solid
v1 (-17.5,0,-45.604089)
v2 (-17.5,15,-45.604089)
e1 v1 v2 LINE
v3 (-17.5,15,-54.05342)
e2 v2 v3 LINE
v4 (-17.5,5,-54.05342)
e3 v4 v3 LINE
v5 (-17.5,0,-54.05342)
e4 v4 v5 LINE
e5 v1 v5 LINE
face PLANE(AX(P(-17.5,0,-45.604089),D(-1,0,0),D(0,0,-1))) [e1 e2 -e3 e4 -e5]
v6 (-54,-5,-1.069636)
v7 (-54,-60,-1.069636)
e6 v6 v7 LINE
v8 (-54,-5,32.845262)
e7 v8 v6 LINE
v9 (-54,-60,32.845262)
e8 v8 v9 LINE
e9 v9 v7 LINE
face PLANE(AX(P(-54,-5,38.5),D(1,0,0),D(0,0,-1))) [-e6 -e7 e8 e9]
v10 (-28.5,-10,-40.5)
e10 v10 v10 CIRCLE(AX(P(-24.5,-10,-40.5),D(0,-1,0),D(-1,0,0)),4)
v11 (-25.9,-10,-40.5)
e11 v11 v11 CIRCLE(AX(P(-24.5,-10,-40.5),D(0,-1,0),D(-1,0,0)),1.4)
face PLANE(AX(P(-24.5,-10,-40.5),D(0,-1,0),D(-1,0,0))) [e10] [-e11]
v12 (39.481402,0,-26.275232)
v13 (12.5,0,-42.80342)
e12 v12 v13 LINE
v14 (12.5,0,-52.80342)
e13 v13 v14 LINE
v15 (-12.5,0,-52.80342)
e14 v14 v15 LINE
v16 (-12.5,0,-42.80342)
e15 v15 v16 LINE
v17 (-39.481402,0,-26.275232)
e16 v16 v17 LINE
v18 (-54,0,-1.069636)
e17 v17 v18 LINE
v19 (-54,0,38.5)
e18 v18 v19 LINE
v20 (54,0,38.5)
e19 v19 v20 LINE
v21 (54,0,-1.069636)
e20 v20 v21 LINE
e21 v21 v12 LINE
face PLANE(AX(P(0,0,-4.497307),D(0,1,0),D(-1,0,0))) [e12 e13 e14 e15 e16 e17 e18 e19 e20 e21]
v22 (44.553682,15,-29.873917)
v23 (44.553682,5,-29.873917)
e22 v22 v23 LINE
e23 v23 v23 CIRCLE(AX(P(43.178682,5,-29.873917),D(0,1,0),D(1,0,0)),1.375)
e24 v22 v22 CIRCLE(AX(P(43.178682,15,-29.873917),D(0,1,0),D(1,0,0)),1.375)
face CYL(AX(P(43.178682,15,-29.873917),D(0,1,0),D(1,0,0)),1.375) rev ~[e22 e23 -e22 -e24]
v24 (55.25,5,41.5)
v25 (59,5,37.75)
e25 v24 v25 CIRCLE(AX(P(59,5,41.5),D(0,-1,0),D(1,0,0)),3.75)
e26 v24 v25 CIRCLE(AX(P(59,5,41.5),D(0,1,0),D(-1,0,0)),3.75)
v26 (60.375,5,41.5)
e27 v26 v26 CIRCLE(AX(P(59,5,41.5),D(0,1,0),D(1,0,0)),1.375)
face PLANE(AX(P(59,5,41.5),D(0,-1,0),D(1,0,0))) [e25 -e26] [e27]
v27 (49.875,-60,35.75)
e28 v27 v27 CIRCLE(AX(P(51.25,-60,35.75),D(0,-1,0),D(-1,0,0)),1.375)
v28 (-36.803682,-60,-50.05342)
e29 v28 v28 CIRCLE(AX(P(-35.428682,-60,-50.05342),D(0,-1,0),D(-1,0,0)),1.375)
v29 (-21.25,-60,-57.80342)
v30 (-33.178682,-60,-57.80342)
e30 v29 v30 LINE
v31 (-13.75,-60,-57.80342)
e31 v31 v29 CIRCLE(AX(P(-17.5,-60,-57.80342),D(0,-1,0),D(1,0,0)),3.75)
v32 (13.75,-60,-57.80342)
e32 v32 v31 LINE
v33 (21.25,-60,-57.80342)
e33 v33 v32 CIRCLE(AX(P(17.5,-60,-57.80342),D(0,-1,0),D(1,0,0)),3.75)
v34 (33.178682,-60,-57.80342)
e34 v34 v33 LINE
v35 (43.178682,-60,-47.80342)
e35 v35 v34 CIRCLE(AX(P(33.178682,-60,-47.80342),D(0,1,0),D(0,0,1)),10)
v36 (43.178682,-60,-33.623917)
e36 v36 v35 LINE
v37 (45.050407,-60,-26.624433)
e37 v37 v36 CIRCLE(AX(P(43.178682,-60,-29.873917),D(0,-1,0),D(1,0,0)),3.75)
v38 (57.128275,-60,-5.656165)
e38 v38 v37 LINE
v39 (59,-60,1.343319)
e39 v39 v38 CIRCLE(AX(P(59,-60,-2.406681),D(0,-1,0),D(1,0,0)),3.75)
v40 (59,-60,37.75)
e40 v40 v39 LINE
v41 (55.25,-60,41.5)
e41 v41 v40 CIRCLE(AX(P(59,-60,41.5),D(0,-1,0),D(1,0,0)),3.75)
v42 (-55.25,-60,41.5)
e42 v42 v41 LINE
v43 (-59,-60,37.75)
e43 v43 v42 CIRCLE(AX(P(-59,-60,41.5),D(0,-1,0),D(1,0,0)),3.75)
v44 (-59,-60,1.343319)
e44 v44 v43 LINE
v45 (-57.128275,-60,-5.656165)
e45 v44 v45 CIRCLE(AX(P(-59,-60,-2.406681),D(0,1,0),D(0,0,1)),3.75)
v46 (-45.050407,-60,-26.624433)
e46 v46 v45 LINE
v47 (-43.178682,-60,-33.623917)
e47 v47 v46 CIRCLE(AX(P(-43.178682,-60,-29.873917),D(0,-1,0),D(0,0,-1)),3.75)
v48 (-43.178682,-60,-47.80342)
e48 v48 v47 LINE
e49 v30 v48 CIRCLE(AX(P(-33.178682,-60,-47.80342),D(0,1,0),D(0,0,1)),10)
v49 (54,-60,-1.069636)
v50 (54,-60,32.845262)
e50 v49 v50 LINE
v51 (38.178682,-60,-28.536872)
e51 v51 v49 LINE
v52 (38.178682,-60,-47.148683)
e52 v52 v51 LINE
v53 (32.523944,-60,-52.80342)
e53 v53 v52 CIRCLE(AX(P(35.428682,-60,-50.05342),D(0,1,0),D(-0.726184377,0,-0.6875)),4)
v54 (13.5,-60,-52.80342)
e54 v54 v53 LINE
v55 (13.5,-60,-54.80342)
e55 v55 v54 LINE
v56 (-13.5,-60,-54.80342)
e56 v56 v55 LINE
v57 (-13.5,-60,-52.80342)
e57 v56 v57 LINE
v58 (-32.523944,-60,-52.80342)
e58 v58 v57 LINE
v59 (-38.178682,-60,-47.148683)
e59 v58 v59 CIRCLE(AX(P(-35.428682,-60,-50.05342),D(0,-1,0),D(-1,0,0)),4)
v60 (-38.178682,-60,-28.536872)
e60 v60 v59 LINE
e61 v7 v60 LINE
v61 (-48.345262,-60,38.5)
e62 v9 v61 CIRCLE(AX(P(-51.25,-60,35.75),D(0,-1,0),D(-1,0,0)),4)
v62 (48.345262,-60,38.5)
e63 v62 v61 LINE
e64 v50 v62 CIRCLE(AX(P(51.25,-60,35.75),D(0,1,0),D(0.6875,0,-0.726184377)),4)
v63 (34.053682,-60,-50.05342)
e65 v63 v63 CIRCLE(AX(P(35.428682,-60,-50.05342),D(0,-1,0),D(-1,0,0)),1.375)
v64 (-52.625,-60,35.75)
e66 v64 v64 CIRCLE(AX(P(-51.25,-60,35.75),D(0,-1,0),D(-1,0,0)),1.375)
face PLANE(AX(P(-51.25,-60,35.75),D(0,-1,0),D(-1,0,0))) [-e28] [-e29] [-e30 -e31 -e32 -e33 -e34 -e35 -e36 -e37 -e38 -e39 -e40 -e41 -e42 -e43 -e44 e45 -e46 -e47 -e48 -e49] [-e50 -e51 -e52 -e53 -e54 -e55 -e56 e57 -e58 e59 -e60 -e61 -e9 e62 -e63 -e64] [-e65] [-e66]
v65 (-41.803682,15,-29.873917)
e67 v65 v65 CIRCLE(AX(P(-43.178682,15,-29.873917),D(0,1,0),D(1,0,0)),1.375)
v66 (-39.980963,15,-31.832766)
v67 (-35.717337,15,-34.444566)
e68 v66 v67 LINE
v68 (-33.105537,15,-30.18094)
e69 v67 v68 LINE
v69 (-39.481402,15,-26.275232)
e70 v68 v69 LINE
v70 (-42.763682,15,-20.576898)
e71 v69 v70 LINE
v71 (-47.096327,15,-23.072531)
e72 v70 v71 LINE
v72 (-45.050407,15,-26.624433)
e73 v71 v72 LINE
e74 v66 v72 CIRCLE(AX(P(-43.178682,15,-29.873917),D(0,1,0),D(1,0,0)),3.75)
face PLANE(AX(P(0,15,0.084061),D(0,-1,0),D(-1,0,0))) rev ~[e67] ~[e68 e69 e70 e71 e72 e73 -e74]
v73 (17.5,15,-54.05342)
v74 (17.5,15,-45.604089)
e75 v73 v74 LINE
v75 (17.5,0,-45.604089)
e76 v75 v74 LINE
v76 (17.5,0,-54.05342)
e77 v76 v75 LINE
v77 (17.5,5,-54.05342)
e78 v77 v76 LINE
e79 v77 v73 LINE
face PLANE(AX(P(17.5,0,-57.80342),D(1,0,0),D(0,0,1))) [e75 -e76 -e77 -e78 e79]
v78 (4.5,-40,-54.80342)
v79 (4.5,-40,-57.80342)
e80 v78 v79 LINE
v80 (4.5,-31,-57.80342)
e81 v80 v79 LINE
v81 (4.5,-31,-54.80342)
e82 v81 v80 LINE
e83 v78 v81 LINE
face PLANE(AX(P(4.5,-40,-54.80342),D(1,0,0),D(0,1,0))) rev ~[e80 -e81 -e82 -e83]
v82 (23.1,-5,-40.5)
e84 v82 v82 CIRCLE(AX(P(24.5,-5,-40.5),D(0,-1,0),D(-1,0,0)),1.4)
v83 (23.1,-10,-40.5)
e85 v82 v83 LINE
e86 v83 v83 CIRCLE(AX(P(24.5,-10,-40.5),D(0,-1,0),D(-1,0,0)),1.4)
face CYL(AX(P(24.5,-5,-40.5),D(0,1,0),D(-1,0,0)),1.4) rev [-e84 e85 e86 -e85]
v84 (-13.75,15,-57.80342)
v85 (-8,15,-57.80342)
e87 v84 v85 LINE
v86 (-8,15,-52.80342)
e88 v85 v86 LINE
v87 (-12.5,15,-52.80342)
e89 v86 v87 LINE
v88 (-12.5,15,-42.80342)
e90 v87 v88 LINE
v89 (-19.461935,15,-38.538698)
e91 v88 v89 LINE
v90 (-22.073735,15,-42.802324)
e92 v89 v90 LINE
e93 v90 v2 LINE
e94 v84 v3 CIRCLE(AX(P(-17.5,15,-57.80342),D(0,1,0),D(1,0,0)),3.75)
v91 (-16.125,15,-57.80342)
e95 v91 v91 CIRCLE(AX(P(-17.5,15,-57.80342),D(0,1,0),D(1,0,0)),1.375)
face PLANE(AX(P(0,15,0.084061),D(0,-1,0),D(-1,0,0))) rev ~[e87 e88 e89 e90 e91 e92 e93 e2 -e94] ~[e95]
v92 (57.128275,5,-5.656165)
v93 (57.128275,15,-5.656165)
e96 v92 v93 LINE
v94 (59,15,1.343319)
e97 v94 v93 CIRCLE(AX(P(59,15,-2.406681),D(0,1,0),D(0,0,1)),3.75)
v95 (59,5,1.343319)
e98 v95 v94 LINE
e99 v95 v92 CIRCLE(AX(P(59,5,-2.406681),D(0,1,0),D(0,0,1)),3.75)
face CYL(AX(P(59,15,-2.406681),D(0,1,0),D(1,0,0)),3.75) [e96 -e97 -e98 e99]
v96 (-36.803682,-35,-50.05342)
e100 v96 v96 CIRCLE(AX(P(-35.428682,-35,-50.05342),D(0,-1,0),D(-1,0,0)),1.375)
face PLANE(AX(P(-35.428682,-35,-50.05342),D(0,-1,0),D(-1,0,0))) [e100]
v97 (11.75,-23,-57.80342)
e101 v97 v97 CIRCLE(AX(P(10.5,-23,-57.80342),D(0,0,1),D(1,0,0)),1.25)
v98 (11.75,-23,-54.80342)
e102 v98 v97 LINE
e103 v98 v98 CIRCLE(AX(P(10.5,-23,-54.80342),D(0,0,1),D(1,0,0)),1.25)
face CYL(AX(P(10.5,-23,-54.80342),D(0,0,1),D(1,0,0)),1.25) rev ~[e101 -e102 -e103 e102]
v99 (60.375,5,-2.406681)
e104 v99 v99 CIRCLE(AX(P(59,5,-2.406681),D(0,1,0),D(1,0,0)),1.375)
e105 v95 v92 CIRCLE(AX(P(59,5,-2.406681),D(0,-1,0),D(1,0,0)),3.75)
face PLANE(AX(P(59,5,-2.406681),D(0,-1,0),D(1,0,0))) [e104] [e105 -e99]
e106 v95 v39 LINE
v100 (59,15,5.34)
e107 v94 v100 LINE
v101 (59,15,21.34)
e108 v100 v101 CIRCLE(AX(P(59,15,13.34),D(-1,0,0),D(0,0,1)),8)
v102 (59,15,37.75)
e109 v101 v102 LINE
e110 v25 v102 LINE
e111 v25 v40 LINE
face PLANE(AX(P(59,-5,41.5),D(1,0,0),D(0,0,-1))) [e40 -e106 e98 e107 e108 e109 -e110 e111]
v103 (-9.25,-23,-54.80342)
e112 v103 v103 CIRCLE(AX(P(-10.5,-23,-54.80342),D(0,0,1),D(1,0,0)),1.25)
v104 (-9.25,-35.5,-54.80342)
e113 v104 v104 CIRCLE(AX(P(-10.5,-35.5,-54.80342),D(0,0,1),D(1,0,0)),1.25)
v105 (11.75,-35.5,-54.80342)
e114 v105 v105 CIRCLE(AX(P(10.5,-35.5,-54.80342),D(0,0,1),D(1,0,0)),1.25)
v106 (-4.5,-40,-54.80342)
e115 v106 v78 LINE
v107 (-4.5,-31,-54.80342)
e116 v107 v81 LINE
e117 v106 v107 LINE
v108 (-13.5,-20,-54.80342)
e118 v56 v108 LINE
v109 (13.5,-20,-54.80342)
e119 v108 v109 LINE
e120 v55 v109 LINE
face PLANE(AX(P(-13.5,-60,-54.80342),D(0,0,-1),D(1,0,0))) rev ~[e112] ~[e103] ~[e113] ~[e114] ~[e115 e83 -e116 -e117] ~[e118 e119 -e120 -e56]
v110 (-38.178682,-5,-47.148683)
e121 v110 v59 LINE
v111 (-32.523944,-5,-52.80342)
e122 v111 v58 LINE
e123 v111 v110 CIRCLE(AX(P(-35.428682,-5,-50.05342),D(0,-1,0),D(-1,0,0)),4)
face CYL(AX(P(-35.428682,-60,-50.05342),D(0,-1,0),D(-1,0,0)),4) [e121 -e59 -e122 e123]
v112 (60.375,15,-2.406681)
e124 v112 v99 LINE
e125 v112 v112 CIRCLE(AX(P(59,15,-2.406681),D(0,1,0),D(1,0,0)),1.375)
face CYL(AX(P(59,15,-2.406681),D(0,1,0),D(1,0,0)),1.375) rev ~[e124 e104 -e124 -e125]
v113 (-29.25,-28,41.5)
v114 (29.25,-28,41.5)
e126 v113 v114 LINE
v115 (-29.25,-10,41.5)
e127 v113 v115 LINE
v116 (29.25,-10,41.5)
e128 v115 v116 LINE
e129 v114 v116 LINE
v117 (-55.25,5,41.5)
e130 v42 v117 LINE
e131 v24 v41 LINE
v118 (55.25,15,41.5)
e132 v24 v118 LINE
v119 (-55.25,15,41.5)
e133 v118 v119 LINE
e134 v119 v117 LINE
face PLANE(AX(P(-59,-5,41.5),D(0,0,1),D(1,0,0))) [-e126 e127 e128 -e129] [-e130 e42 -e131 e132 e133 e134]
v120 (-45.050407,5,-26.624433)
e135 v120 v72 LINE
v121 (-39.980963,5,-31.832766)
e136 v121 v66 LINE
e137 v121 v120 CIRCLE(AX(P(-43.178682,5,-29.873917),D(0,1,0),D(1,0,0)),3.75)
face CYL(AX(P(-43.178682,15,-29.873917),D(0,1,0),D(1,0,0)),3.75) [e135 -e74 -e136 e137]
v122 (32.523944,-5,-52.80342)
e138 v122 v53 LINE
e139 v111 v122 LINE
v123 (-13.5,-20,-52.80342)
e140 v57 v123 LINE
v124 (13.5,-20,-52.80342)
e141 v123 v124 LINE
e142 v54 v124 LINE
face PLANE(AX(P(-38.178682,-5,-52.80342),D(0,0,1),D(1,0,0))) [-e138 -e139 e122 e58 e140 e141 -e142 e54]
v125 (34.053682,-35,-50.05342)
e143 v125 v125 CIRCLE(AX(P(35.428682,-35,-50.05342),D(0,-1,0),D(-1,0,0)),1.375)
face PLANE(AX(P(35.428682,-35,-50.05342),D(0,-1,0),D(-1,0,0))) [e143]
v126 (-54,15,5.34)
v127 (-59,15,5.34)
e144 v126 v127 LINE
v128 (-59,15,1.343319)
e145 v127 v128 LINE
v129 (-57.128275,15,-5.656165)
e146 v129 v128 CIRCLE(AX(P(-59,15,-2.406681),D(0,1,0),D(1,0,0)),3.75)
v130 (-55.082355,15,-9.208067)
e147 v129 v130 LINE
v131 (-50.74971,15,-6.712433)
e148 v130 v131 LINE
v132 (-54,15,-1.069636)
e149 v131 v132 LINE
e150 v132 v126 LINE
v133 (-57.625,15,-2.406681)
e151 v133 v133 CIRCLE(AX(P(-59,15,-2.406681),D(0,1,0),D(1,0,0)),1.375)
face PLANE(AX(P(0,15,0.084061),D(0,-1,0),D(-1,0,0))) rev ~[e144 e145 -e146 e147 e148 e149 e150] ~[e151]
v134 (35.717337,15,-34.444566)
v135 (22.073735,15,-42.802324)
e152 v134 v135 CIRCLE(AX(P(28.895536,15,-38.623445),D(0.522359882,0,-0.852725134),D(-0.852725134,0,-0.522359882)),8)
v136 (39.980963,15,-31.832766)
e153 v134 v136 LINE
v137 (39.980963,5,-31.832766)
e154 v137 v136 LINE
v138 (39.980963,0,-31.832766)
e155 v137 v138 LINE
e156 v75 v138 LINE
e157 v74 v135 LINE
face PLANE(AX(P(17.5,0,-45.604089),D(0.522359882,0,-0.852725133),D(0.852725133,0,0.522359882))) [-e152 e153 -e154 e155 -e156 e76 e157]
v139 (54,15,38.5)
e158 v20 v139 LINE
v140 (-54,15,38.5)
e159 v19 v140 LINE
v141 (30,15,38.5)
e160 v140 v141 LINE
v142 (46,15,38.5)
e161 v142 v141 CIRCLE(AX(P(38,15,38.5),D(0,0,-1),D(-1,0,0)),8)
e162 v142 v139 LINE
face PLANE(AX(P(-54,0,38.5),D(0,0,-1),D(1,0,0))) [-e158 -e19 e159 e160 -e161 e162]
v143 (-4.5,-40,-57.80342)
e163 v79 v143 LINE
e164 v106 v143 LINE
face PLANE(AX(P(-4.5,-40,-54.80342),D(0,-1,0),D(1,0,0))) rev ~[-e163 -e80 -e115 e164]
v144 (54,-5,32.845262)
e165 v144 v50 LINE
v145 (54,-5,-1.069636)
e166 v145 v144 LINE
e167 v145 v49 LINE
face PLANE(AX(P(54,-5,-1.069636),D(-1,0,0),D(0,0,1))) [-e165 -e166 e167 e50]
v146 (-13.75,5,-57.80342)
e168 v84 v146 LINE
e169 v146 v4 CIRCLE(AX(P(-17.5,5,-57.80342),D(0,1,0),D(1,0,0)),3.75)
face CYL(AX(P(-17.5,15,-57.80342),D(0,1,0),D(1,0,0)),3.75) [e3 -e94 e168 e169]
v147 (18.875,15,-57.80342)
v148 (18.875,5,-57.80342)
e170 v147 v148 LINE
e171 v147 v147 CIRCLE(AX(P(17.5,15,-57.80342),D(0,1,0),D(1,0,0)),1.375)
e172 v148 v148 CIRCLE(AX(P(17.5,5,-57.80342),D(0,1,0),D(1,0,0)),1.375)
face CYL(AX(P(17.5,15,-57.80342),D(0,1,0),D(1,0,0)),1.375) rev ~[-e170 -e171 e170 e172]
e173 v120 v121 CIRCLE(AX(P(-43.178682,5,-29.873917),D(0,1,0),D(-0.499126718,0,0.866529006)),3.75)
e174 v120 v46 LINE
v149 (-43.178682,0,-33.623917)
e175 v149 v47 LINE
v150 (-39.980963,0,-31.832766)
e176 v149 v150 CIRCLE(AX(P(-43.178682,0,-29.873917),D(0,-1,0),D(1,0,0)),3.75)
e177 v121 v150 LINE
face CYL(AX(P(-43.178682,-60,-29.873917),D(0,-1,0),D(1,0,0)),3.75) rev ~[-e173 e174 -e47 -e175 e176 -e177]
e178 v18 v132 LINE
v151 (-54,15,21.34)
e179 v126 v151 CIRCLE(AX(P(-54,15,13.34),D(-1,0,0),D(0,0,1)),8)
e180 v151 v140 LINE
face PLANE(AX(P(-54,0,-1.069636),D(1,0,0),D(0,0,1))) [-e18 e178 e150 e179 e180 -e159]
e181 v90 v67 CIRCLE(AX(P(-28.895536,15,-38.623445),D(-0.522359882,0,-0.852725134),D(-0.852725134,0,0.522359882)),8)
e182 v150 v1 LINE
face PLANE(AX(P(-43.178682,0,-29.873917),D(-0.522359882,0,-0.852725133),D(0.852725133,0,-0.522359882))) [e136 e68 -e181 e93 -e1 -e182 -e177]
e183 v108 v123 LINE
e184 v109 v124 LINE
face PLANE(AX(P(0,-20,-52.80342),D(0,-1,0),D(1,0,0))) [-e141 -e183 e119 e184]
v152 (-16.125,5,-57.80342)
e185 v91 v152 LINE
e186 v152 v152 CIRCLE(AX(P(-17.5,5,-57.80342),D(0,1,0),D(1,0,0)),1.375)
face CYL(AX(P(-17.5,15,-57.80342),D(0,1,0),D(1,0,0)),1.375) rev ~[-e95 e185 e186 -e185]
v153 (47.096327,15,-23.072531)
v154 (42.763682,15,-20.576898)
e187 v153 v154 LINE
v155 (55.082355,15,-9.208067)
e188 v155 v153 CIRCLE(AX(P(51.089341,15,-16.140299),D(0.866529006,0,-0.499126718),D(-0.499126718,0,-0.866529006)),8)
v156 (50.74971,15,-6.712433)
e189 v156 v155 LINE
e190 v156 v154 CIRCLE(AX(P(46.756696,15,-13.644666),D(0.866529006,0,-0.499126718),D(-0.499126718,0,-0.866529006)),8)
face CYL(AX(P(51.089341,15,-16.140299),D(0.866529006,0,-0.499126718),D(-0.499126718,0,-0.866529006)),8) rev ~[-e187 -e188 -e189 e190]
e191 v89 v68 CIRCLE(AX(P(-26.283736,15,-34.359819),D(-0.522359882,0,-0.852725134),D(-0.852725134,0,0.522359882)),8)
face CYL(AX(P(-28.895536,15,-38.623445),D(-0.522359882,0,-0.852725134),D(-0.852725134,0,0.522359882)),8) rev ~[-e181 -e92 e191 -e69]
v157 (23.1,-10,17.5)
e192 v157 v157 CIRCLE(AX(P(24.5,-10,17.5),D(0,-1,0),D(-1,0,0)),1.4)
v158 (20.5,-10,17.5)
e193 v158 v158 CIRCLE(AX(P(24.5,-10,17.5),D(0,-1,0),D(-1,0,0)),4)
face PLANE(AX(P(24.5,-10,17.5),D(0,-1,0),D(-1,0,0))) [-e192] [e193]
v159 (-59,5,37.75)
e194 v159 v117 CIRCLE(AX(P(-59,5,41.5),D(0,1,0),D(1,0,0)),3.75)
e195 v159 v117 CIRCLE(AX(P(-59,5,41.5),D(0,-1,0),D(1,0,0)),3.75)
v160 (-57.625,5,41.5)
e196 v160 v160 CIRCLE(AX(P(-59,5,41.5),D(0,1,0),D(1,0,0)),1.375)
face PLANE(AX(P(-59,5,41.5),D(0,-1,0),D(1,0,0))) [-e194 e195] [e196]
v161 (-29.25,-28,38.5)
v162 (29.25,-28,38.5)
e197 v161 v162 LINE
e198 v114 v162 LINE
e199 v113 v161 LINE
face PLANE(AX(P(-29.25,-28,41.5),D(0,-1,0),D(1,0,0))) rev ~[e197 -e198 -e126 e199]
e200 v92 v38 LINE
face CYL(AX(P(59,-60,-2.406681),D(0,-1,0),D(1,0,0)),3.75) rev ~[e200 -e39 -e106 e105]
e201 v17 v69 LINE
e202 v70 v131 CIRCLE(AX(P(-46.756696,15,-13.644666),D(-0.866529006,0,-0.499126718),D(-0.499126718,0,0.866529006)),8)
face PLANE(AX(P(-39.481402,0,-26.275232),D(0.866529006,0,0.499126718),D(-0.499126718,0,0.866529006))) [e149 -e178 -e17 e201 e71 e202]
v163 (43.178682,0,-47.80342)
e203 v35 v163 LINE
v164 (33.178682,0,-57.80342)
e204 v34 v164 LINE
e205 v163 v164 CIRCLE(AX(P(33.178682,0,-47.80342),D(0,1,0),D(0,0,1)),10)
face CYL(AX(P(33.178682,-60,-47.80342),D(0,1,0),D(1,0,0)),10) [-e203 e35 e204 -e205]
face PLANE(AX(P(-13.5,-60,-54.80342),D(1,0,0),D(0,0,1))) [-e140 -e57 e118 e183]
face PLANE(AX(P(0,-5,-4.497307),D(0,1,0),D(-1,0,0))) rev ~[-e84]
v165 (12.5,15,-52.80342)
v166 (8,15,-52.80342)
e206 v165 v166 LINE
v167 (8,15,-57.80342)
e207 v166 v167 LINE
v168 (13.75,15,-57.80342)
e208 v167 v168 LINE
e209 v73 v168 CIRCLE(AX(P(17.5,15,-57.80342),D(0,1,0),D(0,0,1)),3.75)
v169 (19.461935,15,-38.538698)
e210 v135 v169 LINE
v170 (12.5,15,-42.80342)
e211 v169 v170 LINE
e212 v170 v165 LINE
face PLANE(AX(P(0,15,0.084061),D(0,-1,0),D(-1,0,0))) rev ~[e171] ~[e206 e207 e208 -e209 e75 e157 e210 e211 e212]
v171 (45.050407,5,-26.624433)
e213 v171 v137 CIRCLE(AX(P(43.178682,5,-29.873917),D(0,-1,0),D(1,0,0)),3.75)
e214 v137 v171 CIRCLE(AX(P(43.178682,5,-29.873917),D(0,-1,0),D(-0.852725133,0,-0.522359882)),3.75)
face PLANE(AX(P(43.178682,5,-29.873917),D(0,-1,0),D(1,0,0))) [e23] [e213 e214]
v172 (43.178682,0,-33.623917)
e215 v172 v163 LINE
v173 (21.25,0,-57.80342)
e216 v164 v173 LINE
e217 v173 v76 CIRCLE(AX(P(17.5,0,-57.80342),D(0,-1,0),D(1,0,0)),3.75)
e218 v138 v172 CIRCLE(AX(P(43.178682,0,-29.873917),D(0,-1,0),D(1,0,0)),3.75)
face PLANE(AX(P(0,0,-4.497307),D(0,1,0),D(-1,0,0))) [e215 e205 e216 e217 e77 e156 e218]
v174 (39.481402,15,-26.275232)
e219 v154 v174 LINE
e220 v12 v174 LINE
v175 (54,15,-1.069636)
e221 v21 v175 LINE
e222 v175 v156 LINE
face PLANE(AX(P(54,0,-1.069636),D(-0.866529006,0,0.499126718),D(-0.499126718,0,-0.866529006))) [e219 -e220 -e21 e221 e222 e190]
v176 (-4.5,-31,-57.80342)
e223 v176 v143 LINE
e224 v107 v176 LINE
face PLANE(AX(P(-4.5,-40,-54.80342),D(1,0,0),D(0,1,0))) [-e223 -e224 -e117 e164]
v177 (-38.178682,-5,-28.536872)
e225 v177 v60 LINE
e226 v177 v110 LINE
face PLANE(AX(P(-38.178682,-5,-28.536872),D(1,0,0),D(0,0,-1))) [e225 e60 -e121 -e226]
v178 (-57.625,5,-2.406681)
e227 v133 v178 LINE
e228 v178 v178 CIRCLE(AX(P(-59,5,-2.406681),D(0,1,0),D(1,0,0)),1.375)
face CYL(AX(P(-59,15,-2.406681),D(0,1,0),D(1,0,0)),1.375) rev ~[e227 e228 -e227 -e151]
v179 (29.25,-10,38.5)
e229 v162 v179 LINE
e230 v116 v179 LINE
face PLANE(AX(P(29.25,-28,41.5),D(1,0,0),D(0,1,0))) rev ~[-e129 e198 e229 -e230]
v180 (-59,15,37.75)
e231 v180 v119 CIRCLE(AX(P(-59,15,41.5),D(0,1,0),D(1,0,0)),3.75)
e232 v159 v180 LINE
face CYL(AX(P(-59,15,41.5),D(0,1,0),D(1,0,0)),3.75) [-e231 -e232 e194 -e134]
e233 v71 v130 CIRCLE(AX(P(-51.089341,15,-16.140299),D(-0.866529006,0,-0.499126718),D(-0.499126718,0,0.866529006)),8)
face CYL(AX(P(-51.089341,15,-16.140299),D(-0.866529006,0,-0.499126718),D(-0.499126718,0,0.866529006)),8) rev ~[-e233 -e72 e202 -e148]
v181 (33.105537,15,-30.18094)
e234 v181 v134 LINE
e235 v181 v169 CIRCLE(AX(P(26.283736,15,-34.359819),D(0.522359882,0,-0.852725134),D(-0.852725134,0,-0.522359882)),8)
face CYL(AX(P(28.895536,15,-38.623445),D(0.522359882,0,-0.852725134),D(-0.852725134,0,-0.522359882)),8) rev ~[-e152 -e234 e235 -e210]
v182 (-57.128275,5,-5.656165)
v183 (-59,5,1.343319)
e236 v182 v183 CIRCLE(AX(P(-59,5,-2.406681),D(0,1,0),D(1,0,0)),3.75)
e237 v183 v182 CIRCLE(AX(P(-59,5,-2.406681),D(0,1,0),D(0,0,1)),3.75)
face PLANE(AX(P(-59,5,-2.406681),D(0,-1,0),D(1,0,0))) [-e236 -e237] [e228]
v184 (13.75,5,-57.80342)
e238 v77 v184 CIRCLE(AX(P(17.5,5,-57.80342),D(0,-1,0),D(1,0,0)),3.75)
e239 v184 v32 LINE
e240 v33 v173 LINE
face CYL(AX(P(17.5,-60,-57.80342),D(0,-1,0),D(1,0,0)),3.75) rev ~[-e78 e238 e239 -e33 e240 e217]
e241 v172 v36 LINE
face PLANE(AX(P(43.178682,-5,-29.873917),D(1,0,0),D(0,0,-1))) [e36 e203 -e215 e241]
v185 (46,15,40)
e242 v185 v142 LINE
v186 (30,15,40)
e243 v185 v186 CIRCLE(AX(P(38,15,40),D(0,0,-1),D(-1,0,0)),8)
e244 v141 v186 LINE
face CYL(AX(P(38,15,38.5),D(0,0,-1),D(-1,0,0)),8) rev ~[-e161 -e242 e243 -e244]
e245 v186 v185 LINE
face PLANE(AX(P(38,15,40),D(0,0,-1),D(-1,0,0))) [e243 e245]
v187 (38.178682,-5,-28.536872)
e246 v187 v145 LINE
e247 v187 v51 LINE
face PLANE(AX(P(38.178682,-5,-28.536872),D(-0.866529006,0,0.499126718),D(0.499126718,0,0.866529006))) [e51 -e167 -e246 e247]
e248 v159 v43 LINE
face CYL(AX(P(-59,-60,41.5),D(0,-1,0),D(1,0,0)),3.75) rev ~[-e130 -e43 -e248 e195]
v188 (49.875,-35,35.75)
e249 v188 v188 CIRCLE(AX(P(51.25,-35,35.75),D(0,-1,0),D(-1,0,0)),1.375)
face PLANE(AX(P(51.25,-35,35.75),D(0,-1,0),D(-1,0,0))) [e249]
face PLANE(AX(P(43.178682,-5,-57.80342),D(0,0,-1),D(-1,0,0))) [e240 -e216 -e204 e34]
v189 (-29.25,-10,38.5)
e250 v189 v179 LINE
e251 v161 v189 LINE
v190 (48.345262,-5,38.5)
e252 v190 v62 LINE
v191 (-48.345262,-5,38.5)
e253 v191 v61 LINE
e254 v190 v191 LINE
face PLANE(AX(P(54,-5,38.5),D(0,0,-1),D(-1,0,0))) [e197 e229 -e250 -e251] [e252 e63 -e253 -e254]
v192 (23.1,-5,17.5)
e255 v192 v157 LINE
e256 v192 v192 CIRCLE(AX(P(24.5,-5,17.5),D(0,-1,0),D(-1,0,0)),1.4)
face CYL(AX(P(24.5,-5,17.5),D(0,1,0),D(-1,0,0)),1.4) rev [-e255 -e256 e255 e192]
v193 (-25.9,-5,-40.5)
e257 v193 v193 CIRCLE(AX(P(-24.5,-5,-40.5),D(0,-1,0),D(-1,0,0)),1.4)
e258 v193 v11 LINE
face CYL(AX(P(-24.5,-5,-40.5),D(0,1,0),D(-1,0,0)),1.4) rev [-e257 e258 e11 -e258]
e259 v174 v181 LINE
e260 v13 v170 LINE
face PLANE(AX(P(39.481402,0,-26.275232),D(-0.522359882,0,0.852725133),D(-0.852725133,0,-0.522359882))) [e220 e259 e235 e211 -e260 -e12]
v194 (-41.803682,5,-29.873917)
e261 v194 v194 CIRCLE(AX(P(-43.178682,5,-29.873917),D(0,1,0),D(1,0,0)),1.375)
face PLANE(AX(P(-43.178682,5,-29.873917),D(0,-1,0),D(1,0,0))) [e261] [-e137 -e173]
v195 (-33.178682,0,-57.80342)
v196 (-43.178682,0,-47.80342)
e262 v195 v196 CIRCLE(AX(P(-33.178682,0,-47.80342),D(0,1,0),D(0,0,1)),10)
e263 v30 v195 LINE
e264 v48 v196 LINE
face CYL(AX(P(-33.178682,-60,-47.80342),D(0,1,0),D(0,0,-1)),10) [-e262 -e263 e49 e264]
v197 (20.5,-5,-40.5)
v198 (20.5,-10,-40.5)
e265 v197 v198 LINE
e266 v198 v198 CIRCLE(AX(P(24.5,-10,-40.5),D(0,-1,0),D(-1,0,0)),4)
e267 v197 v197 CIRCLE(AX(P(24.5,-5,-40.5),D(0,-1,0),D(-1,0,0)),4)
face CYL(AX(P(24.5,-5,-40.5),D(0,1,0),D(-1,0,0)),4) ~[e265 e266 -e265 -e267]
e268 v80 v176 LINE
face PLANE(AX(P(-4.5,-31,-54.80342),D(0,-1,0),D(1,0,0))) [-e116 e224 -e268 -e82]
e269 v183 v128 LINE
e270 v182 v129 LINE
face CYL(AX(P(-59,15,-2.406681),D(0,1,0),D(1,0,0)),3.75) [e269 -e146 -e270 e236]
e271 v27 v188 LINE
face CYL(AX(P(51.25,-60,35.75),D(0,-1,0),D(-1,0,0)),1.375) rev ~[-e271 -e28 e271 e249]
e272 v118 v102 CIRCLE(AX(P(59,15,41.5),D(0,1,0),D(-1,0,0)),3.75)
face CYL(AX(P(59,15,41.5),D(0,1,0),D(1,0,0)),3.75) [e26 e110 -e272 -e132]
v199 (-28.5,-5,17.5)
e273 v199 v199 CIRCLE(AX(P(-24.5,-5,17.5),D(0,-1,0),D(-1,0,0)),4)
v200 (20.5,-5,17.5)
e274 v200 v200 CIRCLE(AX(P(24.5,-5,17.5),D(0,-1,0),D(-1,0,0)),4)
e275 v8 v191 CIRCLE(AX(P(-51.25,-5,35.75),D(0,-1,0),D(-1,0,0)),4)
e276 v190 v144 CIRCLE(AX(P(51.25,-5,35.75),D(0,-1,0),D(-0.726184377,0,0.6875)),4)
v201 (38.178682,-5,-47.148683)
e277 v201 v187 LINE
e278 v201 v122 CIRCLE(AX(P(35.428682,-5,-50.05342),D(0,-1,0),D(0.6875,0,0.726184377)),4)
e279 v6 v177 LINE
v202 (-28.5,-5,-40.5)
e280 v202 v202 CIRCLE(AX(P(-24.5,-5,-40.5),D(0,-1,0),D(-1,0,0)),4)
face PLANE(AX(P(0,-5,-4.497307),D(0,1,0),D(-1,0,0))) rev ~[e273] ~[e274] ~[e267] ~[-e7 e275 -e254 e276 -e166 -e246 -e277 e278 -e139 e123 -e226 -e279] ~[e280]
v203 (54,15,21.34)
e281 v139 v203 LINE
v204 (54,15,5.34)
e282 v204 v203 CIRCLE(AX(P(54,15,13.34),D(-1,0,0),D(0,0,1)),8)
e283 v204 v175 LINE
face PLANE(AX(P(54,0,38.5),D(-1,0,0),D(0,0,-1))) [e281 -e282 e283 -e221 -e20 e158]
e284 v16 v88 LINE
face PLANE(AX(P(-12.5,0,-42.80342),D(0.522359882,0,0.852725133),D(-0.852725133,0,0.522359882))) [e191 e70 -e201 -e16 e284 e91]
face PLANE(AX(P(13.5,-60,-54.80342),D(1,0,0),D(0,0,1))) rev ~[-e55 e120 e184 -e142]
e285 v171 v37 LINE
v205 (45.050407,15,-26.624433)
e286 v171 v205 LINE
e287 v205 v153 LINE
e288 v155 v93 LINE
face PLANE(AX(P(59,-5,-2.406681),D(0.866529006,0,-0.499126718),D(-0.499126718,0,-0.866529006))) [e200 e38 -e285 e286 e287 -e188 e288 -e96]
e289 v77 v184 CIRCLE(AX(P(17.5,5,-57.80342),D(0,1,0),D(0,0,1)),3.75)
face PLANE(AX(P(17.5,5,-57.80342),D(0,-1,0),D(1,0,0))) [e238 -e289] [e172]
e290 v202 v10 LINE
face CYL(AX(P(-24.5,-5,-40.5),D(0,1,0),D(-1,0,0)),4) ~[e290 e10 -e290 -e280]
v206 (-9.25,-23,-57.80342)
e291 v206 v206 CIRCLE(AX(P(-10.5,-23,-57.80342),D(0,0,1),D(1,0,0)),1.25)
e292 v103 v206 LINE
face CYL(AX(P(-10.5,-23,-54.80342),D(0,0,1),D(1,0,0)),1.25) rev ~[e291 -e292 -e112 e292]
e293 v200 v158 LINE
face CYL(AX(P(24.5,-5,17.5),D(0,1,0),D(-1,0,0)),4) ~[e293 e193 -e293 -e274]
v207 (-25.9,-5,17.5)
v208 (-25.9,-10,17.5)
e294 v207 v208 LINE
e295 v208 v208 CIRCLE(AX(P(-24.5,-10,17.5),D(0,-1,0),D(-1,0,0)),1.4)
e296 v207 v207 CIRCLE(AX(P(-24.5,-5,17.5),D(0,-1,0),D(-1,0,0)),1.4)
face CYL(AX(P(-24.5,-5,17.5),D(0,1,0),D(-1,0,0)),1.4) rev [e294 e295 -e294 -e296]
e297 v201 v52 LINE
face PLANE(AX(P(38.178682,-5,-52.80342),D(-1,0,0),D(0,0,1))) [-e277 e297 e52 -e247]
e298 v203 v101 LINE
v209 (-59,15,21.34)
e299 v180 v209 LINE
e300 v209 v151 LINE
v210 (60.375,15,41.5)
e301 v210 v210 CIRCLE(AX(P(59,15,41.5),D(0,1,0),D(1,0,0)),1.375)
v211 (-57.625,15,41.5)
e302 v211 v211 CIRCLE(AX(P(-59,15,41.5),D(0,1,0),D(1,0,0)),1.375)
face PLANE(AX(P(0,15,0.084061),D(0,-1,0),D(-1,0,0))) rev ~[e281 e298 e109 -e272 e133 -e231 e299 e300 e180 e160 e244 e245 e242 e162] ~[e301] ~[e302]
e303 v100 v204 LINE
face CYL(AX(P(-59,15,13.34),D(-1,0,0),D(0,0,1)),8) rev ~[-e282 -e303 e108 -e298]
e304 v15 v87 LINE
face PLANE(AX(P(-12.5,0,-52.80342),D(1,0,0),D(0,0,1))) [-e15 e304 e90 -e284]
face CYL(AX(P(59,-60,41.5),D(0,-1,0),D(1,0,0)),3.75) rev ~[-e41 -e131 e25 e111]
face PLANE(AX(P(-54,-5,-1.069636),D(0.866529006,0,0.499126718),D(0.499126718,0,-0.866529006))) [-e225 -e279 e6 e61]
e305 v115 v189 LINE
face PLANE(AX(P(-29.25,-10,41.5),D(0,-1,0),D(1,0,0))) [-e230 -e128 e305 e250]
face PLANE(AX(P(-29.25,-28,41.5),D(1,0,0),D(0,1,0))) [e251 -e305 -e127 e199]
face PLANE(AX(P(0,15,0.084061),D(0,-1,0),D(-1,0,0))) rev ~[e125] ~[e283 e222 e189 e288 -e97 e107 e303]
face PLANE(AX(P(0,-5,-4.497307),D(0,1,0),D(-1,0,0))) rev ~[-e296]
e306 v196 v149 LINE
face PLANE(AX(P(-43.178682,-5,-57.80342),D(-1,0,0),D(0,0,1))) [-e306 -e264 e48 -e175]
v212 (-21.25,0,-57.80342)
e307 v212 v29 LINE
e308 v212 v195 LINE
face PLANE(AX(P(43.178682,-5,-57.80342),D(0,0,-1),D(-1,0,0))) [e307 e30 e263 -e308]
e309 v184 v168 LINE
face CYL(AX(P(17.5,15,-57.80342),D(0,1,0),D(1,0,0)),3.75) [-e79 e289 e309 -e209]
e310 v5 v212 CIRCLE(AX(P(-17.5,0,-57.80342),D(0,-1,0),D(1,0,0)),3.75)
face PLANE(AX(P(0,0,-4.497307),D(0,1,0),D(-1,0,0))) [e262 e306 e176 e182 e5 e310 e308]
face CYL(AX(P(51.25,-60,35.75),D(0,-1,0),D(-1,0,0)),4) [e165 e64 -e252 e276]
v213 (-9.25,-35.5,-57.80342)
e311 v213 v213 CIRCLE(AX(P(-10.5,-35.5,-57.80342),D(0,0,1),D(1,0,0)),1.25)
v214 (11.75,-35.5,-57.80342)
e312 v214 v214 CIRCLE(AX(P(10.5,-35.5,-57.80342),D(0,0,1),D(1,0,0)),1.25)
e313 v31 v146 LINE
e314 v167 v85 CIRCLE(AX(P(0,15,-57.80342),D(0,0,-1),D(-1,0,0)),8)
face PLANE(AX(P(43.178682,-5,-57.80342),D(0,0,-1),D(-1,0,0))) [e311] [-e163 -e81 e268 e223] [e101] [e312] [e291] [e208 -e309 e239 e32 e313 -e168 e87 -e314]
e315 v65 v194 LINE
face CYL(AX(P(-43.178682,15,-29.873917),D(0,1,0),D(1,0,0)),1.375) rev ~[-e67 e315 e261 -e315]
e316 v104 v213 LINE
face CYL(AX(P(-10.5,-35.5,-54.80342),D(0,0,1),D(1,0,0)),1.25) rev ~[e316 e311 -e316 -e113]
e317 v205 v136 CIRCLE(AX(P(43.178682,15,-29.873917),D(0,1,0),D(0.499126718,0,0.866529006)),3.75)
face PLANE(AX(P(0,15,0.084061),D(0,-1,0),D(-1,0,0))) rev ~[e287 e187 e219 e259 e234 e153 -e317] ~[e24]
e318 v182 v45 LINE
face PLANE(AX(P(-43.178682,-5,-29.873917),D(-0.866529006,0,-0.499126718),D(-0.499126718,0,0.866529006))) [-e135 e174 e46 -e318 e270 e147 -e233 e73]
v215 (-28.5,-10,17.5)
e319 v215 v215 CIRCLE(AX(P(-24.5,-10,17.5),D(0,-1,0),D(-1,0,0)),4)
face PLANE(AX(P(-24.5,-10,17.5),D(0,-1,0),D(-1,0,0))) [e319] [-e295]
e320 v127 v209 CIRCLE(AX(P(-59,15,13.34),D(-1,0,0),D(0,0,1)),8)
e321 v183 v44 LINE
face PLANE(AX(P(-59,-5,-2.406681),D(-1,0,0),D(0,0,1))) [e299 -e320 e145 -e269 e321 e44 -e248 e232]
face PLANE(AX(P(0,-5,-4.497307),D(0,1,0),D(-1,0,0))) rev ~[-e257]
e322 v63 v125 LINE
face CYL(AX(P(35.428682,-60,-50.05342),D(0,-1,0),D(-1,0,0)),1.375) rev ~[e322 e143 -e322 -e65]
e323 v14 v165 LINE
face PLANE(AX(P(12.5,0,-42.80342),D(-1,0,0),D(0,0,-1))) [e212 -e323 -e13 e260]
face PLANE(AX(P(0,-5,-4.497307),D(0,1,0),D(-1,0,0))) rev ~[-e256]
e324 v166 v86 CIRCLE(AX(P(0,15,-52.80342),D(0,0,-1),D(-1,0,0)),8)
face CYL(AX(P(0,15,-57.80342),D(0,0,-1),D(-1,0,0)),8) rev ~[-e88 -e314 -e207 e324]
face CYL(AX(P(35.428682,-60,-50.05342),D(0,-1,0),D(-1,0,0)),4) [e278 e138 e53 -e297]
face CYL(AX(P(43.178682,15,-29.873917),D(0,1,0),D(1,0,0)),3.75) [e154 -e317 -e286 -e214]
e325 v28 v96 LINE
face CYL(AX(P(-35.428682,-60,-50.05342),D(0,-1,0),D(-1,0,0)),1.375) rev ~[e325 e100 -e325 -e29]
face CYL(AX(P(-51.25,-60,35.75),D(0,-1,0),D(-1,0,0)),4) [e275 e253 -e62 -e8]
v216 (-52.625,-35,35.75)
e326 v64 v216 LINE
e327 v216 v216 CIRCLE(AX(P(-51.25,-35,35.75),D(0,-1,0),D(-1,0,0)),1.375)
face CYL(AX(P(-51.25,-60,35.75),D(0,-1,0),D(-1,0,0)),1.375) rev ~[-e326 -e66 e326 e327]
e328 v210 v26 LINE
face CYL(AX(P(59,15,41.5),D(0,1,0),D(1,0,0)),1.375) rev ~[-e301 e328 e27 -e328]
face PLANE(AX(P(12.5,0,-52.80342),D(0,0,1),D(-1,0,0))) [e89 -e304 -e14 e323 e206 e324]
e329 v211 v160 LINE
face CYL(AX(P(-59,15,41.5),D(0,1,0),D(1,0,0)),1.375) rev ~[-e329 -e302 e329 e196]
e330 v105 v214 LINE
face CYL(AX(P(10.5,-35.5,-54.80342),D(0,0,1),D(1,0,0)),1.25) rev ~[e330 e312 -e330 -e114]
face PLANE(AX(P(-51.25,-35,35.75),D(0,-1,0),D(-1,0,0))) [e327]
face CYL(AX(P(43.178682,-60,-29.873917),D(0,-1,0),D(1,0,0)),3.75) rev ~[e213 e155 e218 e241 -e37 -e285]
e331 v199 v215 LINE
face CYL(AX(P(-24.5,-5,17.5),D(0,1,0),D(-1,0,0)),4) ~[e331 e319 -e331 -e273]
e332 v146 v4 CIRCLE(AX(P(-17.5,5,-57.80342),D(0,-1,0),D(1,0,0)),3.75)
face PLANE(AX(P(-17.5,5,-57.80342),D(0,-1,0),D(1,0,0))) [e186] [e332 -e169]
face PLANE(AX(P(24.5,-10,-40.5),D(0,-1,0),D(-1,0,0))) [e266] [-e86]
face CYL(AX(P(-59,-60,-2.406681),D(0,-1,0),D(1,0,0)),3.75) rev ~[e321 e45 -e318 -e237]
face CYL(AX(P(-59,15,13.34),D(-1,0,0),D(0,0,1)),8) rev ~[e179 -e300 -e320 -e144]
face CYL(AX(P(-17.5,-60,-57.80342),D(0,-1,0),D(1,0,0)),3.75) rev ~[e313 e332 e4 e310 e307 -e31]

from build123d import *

# Parameters (mm, degrees)
BOSS_EXTRUDE2_DEPTH  = 15
BOSS_EXTRUDE3_DEPTH  = 5
SKETCH7_R            = 3.75
BOSS_EXTRUDE9_DEPTH  = 10
SKETCH9_R            = 1.375
CUT_EXTRUDE5_DEPTH   = 21
CUT_EXTRUDE9_REACH   = 131.287
SKETCH14_R           = 8
CUT_EXTRUDE11_REACH  = 105.053
SKETCH16_R           = 8
CUT_EXTRUDE12_REACH  = 131.287
SKETCH17_R           = 8
CUT_EXTRUDE13_REACH  = 121.393
SKETCH19_R           = 8
CUT_EXTRUDE14_REACH  = 121.393
SKETCH20_R           = 8
BOSS_EXTRUDE11_DEPTH = 55
FILLET1_R            = 10
SKETCH25_R           = 4
SKETCH25_R_2         = 1.4
BOSS_EXTRUDE12_DEPTH = 5
SKETCH24_R           = 3.75
CUT_EXTRUDE15_DEPTH  = 65
CUT_EXTRUDE17_REACH  = 105.053
SKETCH26_W           = 58.5
SKETCH26_H           = 18
BOSS_EXTRUDE13_REACH = 77
SKETCH27_R           = 4
SKETCH28_R           = 1.375
CUT_EXTRUDE18_DEPTH  = 25
SKETCH30_R           = 8
CUT_EXTRUDE19_DEPTH  = 122.75
SKETCH31_R           = 8
CUT_EXTRUDE20_DEPTH  = 1.5
SKETCH33_W           = 27
SKETCH33_H           = 4
CUT_EXTRUDE21_DEPTH  = 40
SKETCH35_R           = 1.25
SKETCH35_W           = 9
SKETCH35_H           = 9
CUT_EXTRUDE22_DEPTH  = 7.75


with BuildPart() as part:
    # Sketch1 → Boss-Extrude2 (new body)
    with BuildSketch(Plane(origin=(0, 0, 0), x_dir=(1, 0, 0), z_dir=(0, 1, 0))):
        Polygon((-43.178681761, 29.873916914), (-17.5, 45.604089113), (-17.5, 57.803420417), (17.5, 57.803420417), (17.5, 45.604089113), (43.178681761, 29.873916914), (59, 2.406681305), (59, -41.5), (-59, -41.5), (-59, 2.406681305), align=None)
        Polygon((39.481402229, 26.275231503), (12.5, 42.803420417), (12.5, 52.803420417), (-12.5, 52.803420417), (-12.5, 42.803420417), (-39.481402229, 26.275231503), (-54, 1.069636136), (-54, -38.5), (54, -38.5), (54, 1.069636136), align=None, mode=Mode.SUBTRACT)
    extrude(amount=BOSS_EXTRUDE2_DEPTH)

    # Sketch2 → Boss-Extrude3 (add)
    with BuildSketch(Plane.XZ):
        Polygon((-59, -2.406681305), (-59, 41.5), (59, 41.5), (59, -2.406681305), (43.178681761, -29.873916914), (43.178681761, -57.803420417), (-43.178681761, -57.803420417), (-43.178681761, -29.873916914), align=None)
    extrude(amount=BOSS_EXTRUDE3_DEPTH)

    # Sketch7 → Boss-Extrude9 (add)
    with BuildSketch(Plane(origin=(0, 15, 0), x_dir=(1, 0, 0), z_dir=(0, 1, 0))):
        with Locations((-59, -41.5)):
            Circle(SKETCH7_R)
        with Locations((-59, 2.406681305)):
            Circle(SKETCH7_R)
        with Locations((-43.178681761, 29.873916914)):
            Circle(SKETCH7_R)
        with Locations((-17.5, 57.803420417)):
            Circle(SKETCH7_R)
        with Locations((17.5, 57.803420417)):
            Circle(SKETCH7_R)
        with Locations((43.178681761, 29.873916914)):
            Circle(SKETCH7_R)
        with Locations((59, 2.406681305)):
            Circle(SKETCH7_R)
        with Locations((59, -41.5)):
            Circle(SKETCH7_R)
    extrude(amount=-BOSS_EXTRUDE9_DEPTH)

    # Sketch9 → Cut-Extrude5 (cut, through all)
    with BuildSketch(Plane(origin=(0, 15, 0), x_dir=(1, 0, 0), z_dir=(0, 1, 0))):
        with Locations((-59, -41.5)):
            Circle(SKETCH9_R)
        with Locations((-59, 2.406681305)):
            Circle(SKETCH9_R)
        with Locations((-17.5, 57.803420417)):
            Circle(SKETCH9_R)
        with Locations((43.178681761, 29.873916914)):
            Circle(SKETCH9_R)
        with Locations((17.5, 57.803420417)):
            Circle(SKETCH9_R)
        with Locations((-43.178681761, 29.873916914)):
            Circle(SKETCH9_R)
        with Locations((59, 2.406681305)):
            Circle(SKETCH9_R)
        with Locations((59, -41.5)):
            Circle(SKETCH9_R)
    extrude(amount=-CUT_EXTRUDE5_DEPTH, mode=Mode.SUBTRACT)

    # Sketch14 → Cut-Extrude9 (cut, up to next)
    with BuildSketch(Plane(origin=(-45.342387005, 0, -26.117529435), x_dir=(-0.499126718, 0, 0.866529006), z_dir=(-0.866529006, 0, -0.499126718)), mode=Mode.PRIVATE) as cut_extrude9_sk1:
        with Locations((11.514017709, 15)):
            Circle(SKETCH14_R)
    cut_extrude9_tool1 = extrude(cut_extrude9_sk1.sketch, amount=-CUT_EXTRUDE9_REACH, mode=Mode.PRIVATE) & part.part
    add(cut_extrude9_tool1.solids().sort_by_distance((-51.089341, 15, -16.140299))[0], mode=Mode.SUBTRACT)

    # Sketch16 → Cut-Extrude11 (cut, up to next)
    with BuildSketch(Plane(origin=(0, 0, -57.803420417), x_dir=(-1, 0, 0), z_dir=(0, 0, -1)), mode=Mode.PRIVATE) as cut_extrude11_sk1:
        with Locations((0, 15)):
            Circle(SKETCH16_R)
    cut_extrude11_tool1 = extrude(cut_extrude11_sk1.sketch, amount=-CUT_EXTRUDE11_REACH, mode=Mode.PRIVATE) & part.part
    add(cut_extrude11_tool1.solids().sort_by_distance((0, 15, -57.80342))[0], mode=Mode.SUBTRACT)

    # Sketch17 → Cut-Extrude12 (cut, up to next)
    with BuildSketch(Plane(origin=(45.342387005, 0, -26.117529435), x_dir=(-0.499126718, 0, -0.866529006), z_dir=(0.866529006, 0, -0.499126718)), mode=Mode.PRIVATE) as cut_extrude12_sk1:
        with Locations((-11.514017709, 15)):
            Circle(SKETCH17_R)
    cut_extrude12_tool1 = extrude(cut_extrude12_sk1.sketch, amount=-CUT_EXTRUDE12_REACH, mode=Mode.PRIVATE) & part.part
    add(cut_extrude12_tool1.solids().sort_by_distance((51.089341, 15, -16.140299))[0], mode=Mode.SUBTRACT)

    # Sketch19 → Cut-Extrude13 (cut, up to next)
    with BuildSketch(Plane(origin=(-25.088449392, 0, -40.955578852), x_dir=(-0.852725133, 0, 0.522359882), z_dir=(-0.522359882, 0, -0.852725133)), mode=Mode.PRIVATE) as cut_extrude13_sk1:
        with Locations((4.464611438, 15)):
            Circle(SKETCH19_R)
    cut_extrude13_tool1 = extrude(cut_extrude13_sk1.sketch, amount=-CUT_EXTRUDE13_REACH, mode=Mode.PRIVATE) & part.part
    add(cut_extrude13_tool1.solids().sort_by_distance((-28.895536, 15, -38.623445))[0], mode=Mode.SUBTRACT)

    # Sketch20 → Cut-Extrude14 (cut, up to next)
    with BuildSketch(Plane(origin=(25.088449392, 0, -40.955578852), x_dir=(-0.852725133, 0, -0.522359882), z_dir=(0.522359882, 0, -0.852725133)), mode=Mode.PRIVATE) as cut_extrude14_sk1:
        with Locations((-4.464611438, 15)):
            Circle(SKETCH20_R)
    cut_extrude14_tool1 = extrude(cut_extrude14_sk1.sketch, amount=-CUT_EXTRUDE14_REACH, mode=Mode.PRIVATE) & part.part
    add(cut_extrude14_tool1.solids().sort_by_distance((28.895536, 15, -38.623445))[0], mode=Mode.SUBTRACT)

    # Sketch21 → Boss-Extrude11 (add)
    with BuildSketch(Plane.XZ.offset(5)):
        Polygon((59, 41.5), (59, -2.406681305), (43.178681761, -29.873916914), (43.178681761, -57.803420417), (-43.178681761, -57.803420417), (-43.178681761, -29.873916914), (-59, -2.406681305), (-59, 41.5), align=None)
        Polygon((54, 38.5), (-54, 38.5), (-54, -1.069636136), (-38.178681761, -28.536871745), (-38.178681761, -52.803420417), (38.178681761, -52.803420417), (38.178681761, -28.536871745), (54, -1.069636136), align=None, mode=Mode.SUBTRACT)
    extrude(amount=BOSS_EXTRUDE11_DEPTH)

    # Fillet1
    fillet1_edges = [part.edges().sort_by_distance(p)[0] for p in [
        (43.178681761, -30, -57.803420417),
        (-43.178681761, -30, -57.803420417),
    ]]
    fillet(fillet1_edges, radius=FILLET1_R)

    # Sketch25 → Boss-Extrude12 (add)
    with BuildSketch(Plane(origin=(0, -5, 0), x_dir=(-1, 0, 0), z_dir=(0, -1, 0))):
        with Locations((-24.5, 40.5)):
            Circle(SKETCH25_R)
        with Locations((-24.5, 40.5)):
            Circle(SKETCH25_R_2, mode=Mode.SUBTRACT)
        with Locations((24.5, 40.5)):
            Circle(SKETCH25_R)
        with Locations((24.5, 40.5)):
            Circle(SKETCH25_R_2, mode=Mode.SUBTRACT)
        with Locations((24.5, -17.5)):
            Circle(SKETCH25_R)
        with Locations((24.5, -17.5)):
            Circle(SKETCH25_R_2, mode=Mode.SUBTRACT)
        with Locations((-24.5, -17.5)):
            Circle(SKETCH25_R)
        with Locations((-24.5, -17.5)):
            Circle(SKETCH25_R_2, mode=Mode.SUBTRACT)
    extrude(amount=BOSS_EXTRUDE12_DEPTH)

    # Sketch24 → Cut-Extrude15 (cut)
    with BuildSketch(Plane.XZ.offset(60)):
        with Locations((59, 41.5)):
            Circle(SKETCH24_R)
        with Locations((59, -2.406681305)):
            Circle(SKETCH24_R)
        with Locations((43.178681761, -29.873916914)):
            Circle(SKETCH24_R)
        with Locations((17.5, -57.803420417)):
            Circle(SKETCH24_R)
        with Locations((-17.5, -57.803420417)):
            Circle(SKETCH24_R)
        with Locations((-43.178681761, -29.873916914)):
            Circle(SKETCH24_R)
        with Locations((-59, -2.406681305)):
            Circle(SKETCH24_R)
        with Locations((-59, 41.5)):
            Circle(SKETCH24_R)
    extrude(amount=-CUT_EXTRUDE15_DEPTH, mode=Mode.SUBTRACT)

    # Sketch26 → Cut-Extrude17 (cut, up to next)
    with BuildSketch(Plane.XY.offset(41.5), mode=Mode.PRIVATE) as cut_extrude17_sk1:
        with Locations((0, -19)):
            Rectangle(SKETCH26_W, SKETCH26_H)
    cut_extrude17_tool1 = extrude(cut_extrude17_sk1.sketch, amount=-CUT_EXTRUDE17_REACH, mode=Mode.PRIVATE) & part.part
    add(cut_extrude17_tool1.solids().sort_by_distance((0, -19, 41.5))[0], mode=Mode.SUBTRACT)

    # Sketch27 → Boss-Extrude13 (add, up to next)
    with BuildSketch(Plane(origin=(0, -60, 0), x_dir=(-1, 0, 0), z_dir=(0, -1, 0)), mode=Mode.PRIVATE) as boss_extrude13_sk1:
        with Locations((-51.25, -35.75)):
            Circle(SKETCH27_R)
    boss_extrude13_tool1 = extrude(boss_extrude13_sk1.sketch, amount=-BOSS_EXTRUDE13_REACH, mode=Mode.PRIVATE) - part.part
    add(boss_extrude13_tool1.solids().sort_by_distance((51.25, -60, 35.75))[0])
    # Sketch27 → Boss-Extrude13 (add, up to next)
    with BuildSketch(Plane(origin=(0, -60, 0), x_dir=(-1, 0, 0), z_dir=(0, -1, 0)), mode=Mode.PRIVATE) as boss_extrude13_sk2:
        with Locations((-35.428681761, 50.053420417)):
            Circle(SKETCH27_R)
    boss_extrude13_tool2 = extrude(boss_extrude13_sk2.sketch, amount=-BOSS_EXTRUDE13_REACH, mode=Mode.PRIVATE) - part.part
    add(boss_extrude13_tool2.solids().sort_by_distance((35.428682, -60, -50.05342))[0])
    # Sketch27 → Boss-Extrude13 (add, up to next)
    with BuildSketch(Plane(origin=(0, -60, 0), x_dir=(-1, 0, 0), z_dir=(0, -1, 0)), mode=Mode.PRIVATE) as boss_extrude13_sk3:
        with Locations((35.428681761, 50.053420417)):
            Circle(SKETCH27_R)
    boss_extrude13_tool3 = extrude(boss_extrude13_sk3.sketch, amount=-BOSS_EXTRUDE13_REACH, mode=Mode.PRIVATE) - part.part
    add(boss_extrude13_tool3.solids().sort_by_distance((-35.428682, -60, -50.05342))[0])
    # Sketch27 → Boss-Extrude13 (add, up to next)
    with BuildSketch(Plane(origin=(0, -60, 0), x_dir=(-1, 0, 0), z_dir=(0, -1, 0)), mode=Mode.PRIVATE) as boss_extrude13_sk4:
        with Locations((51.25, -35.75)):
            Circle(SKETCH27_R)
    boss_extrude13_tool4 = extrude(boss_extrude13_sk4.sketch, amount=-BOSS_EXTRUDE13_REACH, mode=Mode.PRIVATE) - part.part
    add(boss_extrude13_tool4.solids().sort_by_distance((-51.25, -60, 35.75))[0])

    # Sketch28 → Cut-Extrude18 (cut)
    with BuildSketch(Plane(origin=(0, -60, 0), x_dir=(-1, 0, 0), z_dir=(0, -1, 0))):
        with Locations((-51.25, -35.75)):
            Circle(SKETCH28_R)
        with Locations((-35.428681761, 50.053420417)):
            Circle(SKETCH28_R)
        with Locations((35.428681761, 50.053420417)):
            Circle(SKETCH28_R)
        with Locations((51.25, -35.75)):
            Circle(SKETCH28_R)
    extrude(amount=-CUT_EXTRUDE18_DEPTH, mode=Mode.SUBTRACT)

    # Sketch30 → Cut-Extrude19 (cut, through all)
    with BuildSketch(Plane.ZY.offset(59)):
        with Locations((13.34, 15)):
            Circle(SKETCH30_R)
    extrude(amount=-CUT_EXTRUDE19_DEPTH, mode=Mode.SUBTRACT)

    # Sketch31 → Cut-Extrude20 (cut)
    with BuildSketch(Plane(origin=(0, 0, 38.5), x_dir=(-1, 0, 0), z_dir=(0, 0, -1))):
        with Locations((-38, 15)):
            Circle(SKETCH31_R)
    extrude(amount=-CUT_EXTRUDE20_DEPTH, mode=Mode.SUBTRACT)

    # Sketch33 → Cut-Extrude21 (cut)
    with BuildSketch(Plane.XZ.offset(60)):
        with Locations((0, -52.803420417)):
            Rectangle(SKETCH33_W, SKETCH33_H)
    extrude(amount=-CUT_EXTRUDE21_DEPTH, mode=Mode.SUBTRACT)

    # Sketch35 → Cut-Extrude22 (cut, through all)
    with BuildSketch(Plane.XY.offset(-54.803420417)):
        with Locations((10.5, -35.5)):
            Circle(SKETCH35_R)
        with Locations((-10.5, -35.5)):
            Circle(SKETCH35_R)
        with Locations((-10.5, -23)):
            Circle(SKETCH35_R)
        with Locations((10.5, -23)):
            Circle(SKETCH35_R)
        with Locations((0, -35.5)):
            Rectangle(SKETCH35_W, SKETCH35_H)
    extrude(amount=-CUT_EXTRUDE22_DEPTH, mode=Mode.SUBTRACT)


solid = part.part
